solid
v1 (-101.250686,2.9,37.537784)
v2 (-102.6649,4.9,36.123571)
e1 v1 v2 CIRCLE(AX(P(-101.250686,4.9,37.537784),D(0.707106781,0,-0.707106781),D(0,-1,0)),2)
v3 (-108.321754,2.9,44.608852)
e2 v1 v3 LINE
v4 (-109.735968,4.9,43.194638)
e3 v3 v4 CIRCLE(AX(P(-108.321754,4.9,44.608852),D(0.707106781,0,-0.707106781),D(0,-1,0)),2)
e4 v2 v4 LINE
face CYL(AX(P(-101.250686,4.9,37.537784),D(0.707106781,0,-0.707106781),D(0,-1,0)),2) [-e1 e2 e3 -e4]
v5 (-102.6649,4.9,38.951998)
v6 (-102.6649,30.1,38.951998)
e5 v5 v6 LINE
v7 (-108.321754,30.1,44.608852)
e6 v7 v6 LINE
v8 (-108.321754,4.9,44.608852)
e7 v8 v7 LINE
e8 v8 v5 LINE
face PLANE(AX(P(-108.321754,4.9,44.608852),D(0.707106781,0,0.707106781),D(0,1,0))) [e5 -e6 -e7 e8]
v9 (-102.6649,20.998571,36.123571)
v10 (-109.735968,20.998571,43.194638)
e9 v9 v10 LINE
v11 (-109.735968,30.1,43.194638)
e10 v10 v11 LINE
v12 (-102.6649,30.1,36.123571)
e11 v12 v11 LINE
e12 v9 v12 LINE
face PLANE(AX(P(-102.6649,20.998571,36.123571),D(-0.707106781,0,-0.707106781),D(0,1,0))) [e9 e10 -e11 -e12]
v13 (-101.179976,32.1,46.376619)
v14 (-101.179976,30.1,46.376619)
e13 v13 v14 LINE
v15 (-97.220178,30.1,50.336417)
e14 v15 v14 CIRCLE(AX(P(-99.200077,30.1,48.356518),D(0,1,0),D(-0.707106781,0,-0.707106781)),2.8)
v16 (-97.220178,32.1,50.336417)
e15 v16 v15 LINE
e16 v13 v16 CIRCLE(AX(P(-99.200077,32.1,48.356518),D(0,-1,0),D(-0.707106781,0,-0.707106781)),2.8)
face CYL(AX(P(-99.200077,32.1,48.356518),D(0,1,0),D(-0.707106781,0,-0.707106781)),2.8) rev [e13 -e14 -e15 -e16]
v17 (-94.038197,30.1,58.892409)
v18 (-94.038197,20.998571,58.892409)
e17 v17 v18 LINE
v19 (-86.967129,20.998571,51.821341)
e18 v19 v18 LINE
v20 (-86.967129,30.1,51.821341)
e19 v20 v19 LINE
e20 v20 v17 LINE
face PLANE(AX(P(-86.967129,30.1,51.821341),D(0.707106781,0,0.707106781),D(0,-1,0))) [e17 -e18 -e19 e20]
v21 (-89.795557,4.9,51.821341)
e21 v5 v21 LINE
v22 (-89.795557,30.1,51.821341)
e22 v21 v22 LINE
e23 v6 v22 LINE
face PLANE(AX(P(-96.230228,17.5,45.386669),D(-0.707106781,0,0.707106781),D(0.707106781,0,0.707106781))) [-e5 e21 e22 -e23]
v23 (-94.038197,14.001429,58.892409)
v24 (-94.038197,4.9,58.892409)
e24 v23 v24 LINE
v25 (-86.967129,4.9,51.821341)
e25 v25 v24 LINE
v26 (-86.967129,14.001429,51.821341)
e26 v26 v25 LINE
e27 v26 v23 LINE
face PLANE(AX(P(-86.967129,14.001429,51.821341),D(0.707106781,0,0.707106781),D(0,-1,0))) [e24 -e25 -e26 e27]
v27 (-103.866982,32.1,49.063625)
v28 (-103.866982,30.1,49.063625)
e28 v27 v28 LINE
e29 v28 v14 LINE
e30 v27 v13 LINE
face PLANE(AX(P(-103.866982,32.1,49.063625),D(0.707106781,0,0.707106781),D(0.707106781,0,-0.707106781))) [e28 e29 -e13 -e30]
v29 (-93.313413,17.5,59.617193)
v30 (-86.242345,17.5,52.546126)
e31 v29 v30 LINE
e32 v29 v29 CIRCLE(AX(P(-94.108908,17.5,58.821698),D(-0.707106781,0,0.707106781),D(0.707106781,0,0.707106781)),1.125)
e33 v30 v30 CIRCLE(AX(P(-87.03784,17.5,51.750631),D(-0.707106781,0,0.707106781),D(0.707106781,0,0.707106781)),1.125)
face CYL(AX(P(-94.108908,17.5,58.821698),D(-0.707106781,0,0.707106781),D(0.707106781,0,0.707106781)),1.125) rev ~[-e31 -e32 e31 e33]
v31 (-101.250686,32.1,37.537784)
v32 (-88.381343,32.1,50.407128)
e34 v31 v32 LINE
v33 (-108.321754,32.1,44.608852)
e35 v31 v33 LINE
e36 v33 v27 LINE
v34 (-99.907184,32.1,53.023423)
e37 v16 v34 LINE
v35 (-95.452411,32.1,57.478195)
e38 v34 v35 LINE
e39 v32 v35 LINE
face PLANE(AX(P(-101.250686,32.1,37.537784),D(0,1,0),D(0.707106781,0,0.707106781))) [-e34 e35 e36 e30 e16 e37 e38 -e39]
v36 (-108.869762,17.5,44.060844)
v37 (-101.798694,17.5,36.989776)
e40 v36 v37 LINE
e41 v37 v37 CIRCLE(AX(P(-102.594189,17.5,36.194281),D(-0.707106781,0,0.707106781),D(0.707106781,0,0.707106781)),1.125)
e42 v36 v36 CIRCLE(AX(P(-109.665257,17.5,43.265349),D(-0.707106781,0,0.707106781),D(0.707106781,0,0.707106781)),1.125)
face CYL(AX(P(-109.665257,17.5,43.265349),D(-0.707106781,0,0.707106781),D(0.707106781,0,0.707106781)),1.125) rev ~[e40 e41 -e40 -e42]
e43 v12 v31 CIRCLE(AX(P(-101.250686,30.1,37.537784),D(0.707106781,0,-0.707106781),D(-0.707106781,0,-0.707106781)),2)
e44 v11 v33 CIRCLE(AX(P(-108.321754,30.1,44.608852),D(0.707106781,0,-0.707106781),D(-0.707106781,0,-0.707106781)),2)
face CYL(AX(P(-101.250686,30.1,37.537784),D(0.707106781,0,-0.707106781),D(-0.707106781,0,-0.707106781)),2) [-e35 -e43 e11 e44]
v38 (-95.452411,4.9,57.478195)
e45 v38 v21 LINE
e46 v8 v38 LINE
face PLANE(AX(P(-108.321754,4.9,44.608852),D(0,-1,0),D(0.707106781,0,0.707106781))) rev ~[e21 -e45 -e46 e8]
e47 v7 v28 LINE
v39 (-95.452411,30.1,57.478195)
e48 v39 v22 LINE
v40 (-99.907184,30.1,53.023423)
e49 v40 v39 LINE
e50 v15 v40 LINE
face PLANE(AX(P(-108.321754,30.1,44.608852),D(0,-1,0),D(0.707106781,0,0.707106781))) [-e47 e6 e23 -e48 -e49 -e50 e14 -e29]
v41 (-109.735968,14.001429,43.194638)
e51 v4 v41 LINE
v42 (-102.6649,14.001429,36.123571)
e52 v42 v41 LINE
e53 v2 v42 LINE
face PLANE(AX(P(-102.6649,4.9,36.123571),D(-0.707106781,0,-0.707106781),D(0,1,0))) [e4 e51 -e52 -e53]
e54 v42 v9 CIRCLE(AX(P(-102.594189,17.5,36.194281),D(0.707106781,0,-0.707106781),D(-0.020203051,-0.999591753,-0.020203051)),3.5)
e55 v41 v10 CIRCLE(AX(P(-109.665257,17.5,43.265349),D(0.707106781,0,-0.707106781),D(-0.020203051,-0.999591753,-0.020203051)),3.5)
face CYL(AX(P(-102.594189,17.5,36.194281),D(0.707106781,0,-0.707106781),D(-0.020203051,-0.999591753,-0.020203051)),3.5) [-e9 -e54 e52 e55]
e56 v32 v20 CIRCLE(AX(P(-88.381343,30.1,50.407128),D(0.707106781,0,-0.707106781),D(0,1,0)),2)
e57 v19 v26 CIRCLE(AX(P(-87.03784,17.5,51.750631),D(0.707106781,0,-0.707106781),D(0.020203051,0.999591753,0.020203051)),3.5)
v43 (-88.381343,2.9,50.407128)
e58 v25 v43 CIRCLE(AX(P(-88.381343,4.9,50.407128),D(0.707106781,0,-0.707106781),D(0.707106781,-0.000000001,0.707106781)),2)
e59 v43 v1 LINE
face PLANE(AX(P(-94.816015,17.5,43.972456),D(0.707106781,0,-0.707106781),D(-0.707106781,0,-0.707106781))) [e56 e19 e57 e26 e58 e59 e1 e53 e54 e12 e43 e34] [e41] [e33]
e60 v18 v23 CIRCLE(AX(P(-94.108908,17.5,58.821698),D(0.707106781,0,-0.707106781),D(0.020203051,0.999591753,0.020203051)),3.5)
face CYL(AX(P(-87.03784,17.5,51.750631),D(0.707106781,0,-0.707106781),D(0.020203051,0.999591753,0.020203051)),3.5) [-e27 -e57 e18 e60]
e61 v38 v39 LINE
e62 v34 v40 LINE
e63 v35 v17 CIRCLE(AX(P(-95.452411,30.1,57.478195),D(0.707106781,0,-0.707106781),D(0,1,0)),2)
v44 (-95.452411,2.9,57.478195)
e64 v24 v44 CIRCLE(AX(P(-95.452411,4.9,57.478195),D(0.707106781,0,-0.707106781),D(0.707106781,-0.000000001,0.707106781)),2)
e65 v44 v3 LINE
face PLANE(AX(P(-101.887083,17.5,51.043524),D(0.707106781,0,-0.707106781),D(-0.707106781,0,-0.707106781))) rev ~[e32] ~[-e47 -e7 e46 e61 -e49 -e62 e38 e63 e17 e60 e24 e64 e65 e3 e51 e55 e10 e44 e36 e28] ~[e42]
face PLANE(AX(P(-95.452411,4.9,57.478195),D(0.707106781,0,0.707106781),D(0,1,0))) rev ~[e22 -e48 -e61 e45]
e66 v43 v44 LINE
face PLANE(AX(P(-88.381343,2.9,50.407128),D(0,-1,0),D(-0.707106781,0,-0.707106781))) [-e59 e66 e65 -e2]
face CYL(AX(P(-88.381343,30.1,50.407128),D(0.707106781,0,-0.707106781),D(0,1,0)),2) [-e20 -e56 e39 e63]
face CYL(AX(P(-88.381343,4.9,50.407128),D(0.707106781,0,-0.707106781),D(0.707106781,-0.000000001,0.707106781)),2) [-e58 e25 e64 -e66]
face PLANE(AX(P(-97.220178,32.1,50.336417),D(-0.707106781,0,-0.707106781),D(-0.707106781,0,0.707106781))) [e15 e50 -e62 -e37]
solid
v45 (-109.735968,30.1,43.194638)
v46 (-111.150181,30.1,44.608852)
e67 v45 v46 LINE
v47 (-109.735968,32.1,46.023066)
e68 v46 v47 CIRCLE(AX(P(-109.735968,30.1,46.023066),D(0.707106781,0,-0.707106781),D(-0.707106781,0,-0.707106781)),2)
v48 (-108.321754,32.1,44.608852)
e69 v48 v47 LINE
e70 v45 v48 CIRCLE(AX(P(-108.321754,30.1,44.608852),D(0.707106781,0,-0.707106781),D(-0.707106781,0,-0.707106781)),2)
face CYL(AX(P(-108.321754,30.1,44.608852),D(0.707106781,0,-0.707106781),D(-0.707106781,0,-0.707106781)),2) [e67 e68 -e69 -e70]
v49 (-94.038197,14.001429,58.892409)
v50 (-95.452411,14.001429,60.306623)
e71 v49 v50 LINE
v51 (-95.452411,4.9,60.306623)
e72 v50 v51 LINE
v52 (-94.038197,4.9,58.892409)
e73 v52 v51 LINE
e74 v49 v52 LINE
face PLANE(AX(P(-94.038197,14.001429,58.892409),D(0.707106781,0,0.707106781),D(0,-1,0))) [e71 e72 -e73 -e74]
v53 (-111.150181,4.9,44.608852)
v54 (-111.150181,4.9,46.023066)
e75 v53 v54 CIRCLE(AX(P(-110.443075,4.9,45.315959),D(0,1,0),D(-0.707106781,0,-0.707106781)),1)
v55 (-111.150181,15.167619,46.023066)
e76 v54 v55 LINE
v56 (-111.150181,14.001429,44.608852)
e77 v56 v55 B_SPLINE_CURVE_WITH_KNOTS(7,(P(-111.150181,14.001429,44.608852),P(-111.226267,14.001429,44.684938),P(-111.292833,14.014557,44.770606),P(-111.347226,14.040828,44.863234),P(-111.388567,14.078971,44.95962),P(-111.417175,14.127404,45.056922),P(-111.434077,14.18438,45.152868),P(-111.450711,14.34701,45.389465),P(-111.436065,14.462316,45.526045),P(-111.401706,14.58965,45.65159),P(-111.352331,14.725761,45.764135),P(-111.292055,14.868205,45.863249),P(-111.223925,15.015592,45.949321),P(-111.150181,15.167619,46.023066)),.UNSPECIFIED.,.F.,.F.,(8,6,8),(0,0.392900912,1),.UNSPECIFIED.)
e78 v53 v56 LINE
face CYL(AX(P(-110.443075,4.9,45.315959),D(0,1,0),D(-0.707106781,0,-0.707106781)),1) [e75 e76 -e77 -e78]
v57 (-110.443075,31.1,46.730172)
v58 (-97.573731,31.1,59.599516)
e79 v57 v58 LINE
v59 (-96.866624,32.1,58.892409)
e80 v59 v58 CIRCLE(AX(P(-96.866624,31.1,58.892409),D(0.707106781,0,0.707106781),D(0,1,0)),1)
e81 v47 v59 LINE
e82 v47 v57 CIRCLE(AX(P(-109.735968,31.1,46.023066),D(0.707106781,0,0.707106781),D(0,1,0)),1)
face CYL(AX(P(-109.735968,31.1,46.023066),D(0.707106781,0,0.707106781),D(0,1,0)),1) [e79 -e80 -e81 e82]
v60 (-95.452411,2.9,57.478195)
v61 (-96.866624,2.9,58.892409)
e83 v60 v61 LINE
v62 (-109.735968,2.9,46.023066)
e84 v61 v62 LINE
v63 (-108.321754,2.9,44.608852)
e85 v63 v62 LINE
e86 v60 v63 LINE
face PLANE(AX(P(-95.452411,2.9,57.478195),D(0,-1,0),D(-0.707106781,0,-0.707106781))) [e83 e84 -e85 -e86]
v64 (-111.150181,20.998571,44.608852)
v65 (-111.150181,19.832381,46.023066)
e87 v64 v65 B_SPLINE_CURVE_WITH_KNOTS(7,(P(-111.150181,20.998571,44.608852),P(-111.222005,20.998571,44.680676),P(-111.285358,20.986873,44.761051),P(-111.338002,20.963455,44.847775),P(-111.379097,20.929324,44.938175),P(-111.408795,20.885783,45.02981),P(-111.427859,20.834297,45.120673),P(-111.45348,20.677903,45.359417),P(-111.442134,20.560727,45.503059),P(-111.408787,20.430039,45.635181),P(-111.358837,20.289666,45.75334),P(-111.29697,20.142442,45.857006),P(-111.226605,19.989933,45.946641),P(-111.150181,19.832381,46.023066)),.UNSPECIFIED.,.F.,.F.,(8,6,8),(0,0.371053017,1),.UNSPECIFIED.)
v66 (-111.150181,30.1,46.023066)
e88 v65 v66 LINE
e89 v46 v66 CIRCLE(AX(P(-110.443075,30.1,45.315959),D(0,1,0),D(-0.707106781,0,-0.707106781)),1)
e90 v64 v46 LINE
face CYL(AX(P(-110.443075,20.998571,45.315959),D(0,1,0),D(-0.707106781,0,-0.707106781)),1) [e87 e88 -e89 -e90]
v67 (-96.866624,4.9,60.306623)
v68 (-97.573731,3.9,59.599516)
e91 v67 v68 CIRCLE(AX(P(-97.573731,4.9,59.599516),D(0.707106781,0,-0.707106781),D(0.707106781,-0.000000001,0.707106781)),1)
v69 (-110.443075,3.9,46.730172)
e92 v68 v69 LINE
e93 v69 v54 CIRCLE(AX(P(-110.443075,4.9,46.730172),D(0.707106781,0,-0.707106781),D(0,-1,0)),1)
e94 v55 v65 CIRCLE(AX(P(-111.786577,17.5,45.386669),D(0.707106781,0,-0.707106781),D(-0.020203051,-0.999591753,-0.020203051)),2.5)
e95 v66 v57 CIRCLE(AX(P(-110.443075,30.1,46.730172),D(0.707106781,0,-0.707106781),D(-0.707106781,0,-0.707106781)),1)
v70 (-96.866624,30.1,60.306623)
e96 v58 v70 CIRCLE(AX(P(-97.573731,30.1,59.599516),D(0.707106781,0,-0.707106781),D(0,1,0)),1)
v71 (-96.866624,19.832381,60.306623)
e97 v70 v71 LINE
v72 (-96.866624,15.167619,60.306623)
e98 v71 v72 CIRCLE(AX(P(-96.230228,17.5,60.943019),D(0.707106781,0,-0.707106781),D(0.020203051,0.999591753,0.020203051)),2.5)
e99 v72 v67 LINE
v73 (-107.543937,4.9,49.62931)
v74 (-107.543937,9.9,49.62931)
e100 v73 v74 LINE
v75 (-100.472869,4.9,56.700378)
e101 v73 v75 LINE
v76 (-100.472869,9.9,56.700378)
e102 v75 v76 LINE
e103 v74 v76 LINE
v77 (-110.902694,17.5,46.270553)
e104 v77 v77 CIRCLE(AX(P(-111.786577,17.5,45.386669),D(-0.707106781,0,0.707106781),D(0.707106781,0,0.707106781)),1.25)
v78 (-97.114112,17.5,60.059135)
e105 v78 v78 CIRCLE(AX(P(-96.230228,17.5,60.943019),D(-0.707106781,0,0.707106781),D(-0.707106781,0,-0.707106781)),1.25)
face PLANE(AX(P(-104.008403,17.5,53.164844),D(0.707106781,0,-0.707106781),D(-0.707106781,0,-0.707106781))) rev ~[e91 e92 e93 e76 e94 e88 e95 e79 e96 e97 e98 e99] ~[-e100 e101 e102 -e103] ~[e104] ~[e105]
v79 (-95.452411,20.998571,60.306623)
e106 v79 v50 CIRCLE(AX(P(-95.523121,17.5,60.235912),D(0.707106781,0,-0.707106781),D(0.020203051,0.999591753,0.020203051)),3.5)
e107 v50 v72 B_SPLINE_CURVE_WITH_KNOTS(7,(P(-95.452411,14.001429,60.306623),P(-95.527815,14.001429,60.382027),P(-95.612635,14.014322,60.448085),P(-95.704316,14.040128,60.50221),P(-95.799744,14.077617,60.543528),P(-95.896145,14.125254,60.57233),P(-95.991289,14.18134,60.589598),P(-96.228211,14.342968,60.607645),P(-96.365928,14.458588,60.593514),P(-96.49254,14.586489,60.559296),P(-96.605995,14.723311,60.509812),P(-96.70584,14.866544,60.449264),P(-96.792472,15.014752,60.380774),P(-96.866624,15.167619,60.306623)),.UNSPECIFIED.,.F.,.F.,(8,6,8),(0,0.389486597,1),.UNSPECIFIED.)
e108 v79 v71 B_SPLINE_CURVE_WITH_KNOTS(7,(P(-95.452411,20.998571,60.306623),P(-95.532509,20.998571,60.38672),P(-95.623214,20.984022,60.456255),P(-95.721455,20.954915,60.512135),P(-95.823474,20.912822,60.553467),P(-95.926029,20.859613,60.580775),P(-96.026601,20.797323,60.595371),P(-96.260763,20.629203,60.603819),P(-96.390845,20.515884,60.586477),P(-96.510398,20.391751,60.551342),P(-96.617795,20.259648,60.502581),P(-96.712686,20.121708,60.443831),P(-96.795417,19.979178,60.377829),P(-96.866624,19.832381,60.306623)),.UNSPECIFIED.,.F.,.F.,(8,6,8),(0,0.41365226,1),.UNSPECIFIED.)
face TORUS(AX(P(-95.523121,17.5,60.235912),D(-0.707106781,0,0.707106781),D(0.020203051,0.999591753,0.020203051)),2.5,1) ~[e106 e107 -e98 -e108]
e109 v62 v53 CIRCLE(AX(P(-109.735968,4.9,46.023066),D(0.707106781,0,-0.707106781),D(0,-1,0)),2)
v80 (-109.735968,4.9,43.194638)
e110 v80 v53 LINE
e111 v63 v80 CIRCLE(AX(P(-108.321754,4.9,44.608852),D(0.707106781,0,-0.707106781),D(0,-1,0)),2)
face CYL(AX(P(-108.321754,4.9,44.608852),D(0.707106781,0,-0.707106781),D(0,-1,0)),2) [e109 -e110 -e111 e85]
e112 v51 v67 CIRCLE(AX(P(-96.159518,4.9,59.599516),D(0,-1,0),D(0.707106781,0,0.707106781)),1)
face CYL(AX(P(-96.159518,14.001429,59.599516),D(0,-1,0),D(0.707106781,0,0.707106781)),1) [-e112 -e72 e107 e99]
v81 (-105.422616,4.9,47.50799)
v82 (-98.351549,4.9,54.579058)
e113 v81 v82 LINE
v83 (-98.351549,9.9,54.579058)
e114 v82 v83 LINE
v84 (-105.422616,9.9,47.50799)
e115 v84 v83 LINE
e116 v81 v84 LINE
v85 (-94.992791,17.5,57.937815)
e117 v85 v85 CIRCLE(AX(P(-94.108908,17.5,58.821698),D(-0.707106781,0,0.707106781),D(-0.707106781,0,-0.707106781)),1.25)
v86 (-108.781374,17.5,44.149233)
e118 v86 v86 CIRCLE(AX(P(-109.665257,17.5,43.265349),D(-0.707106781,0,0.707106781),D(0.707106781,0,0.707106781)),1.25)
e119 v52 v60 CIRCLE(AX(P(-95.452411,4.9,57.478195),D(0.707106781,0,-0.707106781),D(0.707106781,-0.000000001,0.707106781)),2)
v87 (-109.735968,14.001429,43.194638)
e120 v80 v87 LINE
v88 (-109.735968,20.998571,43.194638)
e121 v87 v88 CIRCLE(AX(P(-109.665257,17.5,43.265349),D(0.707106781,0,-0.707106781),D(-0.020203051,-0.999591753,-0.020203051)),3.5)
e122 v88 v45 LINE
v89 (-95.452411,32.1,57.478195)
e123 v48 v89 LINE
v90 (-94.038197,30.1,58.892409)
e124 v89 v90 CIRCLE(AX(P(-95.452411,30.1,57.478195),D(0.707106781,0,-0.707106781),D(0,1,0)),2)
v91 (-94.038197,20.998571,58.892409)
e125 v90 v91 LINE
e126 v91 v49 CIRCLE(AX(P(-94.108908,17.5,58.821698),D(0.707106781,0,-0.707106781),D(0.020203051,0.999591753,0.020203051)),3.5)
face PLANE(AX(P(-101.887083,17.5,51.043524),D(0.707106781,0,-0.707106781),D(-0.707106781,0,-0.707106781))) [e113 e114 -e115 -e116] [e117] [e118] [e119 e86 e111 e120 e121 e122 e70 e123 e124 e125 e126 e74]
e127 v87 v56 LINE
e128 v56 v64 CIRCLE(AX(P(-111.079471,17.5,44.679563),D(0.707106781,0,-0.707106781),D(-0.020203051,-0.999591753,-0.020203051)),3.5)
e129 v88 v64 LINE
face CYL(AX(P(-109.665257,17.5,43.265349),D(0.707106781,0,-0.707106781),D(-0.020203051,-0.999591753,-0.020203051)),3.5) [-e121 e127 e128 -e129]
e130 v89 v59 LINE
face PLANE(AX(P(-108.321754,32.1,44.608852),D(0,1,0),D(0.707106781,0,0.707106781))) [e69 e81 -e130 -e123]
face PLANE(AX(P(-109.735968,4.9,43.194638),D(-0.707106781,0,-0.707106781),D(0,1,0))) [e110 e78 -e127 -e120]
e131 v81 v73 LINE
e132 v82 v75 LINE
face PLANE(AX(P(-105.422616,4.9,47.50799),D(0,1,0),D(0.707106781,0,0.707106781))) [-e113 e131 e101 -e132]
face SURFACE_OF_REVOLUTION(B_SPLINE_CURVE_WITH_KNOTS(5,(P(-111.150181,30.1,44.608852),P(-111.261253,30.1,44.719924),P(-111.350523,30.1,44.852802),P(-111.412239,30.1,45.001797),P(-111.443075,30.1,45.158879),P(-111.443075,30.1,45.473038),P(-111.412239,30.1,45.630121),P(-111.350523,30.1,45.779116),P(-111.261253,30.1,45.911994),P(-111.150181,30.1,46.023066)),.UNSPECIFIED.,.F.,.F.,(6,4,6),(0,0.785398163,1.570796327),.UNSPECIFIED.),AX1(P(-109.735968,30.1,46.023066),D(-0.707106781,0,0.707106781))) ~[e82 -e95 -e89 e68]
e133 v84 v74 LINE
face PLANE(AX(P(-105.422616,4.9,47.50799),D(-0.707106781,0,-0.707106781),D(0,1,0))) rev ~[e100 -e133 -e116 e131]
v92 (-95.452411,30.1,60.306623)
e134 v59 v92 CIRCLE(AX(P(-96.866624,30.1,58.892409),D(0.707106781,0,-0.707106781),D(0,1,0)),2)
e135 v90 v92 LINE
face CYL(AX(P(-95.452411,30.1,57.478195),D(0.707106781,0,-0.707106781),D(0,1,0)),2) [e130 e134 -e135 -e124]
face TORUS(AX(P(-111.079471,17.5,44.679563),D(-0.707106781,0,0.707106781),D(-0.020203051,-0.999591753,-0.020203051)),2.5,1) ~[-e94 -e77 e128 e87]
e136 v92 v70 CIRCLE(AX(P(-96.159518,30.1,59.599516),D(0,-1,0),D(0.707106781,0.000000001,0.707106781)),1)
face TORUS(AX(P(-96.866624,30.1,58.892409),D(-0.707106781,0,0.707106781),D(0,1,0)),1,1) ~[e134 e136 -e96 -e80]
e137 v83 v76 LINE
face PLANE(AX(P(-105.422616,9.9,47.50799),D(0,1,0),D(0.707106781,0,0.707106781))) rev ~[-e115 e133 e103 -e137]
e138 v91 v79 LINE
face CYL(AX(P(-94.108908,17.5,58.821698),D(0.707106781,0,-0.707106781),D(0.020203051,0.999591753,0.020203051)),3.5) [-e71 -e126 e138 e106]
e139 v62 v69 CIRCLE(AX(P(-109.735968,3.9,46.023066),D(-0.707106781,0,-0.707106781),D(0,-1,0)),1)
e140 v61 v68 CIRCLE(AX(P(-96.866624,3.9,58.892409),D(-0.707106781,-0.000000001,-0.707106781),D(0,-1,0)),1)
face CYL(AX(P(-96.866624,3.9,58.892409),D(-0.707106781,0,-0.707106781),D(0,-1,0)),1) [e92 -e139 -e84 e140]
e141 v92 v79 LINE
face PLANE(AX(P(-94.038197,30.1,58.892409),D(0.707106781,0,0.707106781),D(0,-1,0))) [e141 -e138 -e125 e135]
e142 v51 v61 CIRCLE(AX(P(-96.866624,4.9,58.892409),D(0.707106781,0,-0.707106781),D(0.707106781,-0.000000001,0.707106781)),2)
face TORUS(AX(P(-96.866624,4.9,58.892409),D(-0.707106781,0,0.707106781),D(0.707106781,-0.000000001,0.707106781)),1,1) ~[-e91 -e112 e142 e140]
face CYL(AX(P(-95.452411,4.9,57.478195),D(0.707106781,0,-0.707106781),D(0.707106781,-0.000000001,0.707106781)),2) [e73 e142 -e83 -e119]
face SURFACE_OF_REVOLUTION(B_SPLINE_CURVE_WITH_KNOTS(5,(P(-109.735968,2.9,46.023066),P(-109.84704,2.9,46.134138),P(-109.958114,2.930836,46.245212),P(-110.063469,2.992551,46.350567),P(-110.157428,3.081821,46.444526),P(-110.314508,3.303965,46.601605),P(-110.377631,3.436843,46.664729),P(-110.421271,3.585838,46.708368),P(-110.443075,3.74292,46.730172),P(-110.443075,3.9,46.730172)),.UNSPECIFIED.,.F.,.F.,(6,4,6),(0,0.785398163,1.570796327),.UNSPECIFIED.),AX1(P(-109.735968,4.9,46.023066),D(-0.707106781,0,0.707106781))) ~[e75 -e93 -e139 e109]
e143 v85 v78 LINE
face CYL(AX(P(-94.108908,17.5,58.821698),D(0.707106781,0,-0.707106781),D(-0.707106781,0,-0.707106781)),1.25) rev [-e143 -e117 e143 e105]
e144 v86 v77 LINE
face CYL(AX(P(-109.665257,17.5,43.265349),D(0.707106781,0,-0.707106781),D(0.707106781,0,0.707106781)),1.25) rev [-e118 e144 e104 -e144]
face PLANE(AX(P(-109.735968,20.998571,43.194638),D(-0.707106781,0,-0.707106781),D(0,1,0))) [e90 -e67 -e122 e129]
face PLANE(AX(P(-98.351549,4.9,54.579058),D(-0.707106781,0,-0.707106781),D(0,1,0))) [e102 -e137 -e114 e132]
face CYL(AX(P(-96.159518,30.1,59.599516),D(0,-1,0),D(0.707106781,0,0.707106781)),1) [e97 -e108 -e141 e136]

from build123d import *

# Parameters (mm, degrees)
BOSS_EXTRUDE1_DEPTH = 10
CUT_EXTRUDE1_REACH  = 66.268
SKETCH2_R           = 1.125
SKETCH3_W           = 18.2
SKETCH3_H           = 25.2
CUT_EXTRUDE2_DEPTH  = 8
CUT_EXTRUDE3_REACH  = 133.093
SKETCH5_R           = 1.25
SKETCH5_W           = 10
SKETCH5_H           = 5
BOSS_EXTRUDE2_DEPTH = 3
FILLET1_R           = 1


with BuildPart() as part:
    # Sketch1 → Boss-Extrude1 (new body)
    with BuildSketch(Plane(origin=(-69.394235316, 0, 69.394235316), x_dir=(0.7071067811865521, 0, 0.707106781186543), z_dir=(-0.707106781186543, 0, 0.7071067811865521))):
        with BuildLine():
            Line((-47.051825189, 20.998571137), (-47.051825189, 30.1))
            ThreePointArc((-47.051825189, 30.1), (-46.466038752, 31.514213562), (-45.051825189, 32.1))
            Line((-45.051825189, 32.1), (-26.851825189, 32.1))
            ThreePointArc((-26.851825189, 32.1), (-25.437611627, 31.514213562), (-24.851825189, 30.1))
            Line((-24.851825189, 30.1), (-24.851825189, 20.998571137))
            ThreePointArc((-24.851825189, 20.998571137), (-21.451825189, 17.5), (-24.851825189, 14.001428863))
            Line((-24.851825189, 14.001428863), (-24.851825189, 4.9))
            ThreePointArc((-24.851825189, 4.9), (-25.437611627, 3.485786438), (-26.851825189, 2.9))
            Line((-26.851825189, 2.9), (-45.051825189, 2.9))
            ThreePointArc((-45.051825189, 2.9), (-46.466038752, 3.485786438), (-47.051825189, 4.9))
            Line((-47.051825189, 4.9), (-47.051825189, 14.001428863))
            ThreePointArc((-47.051825189, 14.001428863), (-50.451825189, 17.5), (-47.051825189, 20.998571137))
        make_face()
    extrude(amount=BOSS_EXTRUDE1_DEPTH)

    # Sketch2 → Cut-Extrude1 (cut, up to next)
    with BuildSketch(Plane(origin=(-76.465303128, 0, 76.465303128), x_dir=(0.707106781186552, 0, 0.707106781186543), z_dir=(-0.707106781186543, 0, 0.707106781186552)), mode=Mode.PRIVATE) as cut_extrude1_sk1:
        with Locations((-46.951825189, 17.5)):
            Circle(SKETCH2_R)
    cut_extrude1_tool1 = extrude(cut_extrude1_sk1.sketch, amount=-CUT_EXTRUDE1_REACH, mode=Mode.PRIVATE) & part.part
    # Sketch2 → Cut-Extrude1 (cut, up to next)
    with BuildSketch(Plane(origin=(-76.465303128, 0, 76.465303128), x_dir=(0.707106781186552, 0, 0.707106781186543), z_dir=(-0.707106781186543, 0, 0.707106781186552)), mode=Mode.PRIVATE) as cut_extrude1_sk2:
        with Locations((-24.951825189, 17.5)):
            Circle(SKETCH2_R)
    cut_extrude1_tool2 = extrude(cut_extrude1_sk2.sketch, amount=-CUT_EXTRUDE1_REACH, mode=Mode.PRIVATE) & part.part
    add(cut_extrude1_tool1.solids().sort_by_distance((-109.665257, 17.5, 43.265349))[0], mode=Mode.SUBTRACT)
    add(cut_extrude1_tool2.solids().sort_by_distance((-94.108908, 17.5, 58.821698))[0], mode=Mode.SUBTRACT)

    # Sketch3 → Cut-Extrude2 (cut)
    with BuildSketch(Plane(origin=(-76.465303128, 0, 76.465303128), x_dir=(0.707106781186552, 0, 0.707106781186543), z_dir=(-0.707106781186543, 0, 0.707106781186552))):
        with Locations((-35.951825189, 17.5)):
            Rectangle(SKETCH3_W, SKETCH3_H)
    extrude(amount=-CUT_EXTRUDE2_DEPTH, mode=Mode.SUBTRACT)

    # Sketch4 → Cut-Extrude3 (cut, up to next)
    with BuildSketch(Plane(origin=(0, 32.1, 0), x_dir=(1, 0, 0), z_dir=(0, 1, 0)), mode=Mode.PRIVATE) as cut_extrude3_sk1:
        with BuildLine():
            Line((-103.866981503, -49.063624754), (-101.179975734, -46.376618985))
            ThreePointArc((-101.179975734, -46.376618985), (-97.22017776, -46.376618985), (-97.22017776, -50.33641696))
            Line((-97.22017776, -50.33641696), (-99.907183528, -53.023422728))
            Line((-99.907183528, -53.023422728), (-103.866981503, -49.063624754))
        make_face()
    cut_extrude3_tool1 = extrude(cut_extrude3_sk1.sketch, amount=-CUT_EXTRUDE3_REACH, mode=Mode.PRIVATE) & part.part
    add(cut_extrude3_tool1.solids().sort_by_distance((-99.743058, 32.1, 48.899499))[0], mode=Mode.SUBTRACT)


with BuildPart() as body_2:
    # Sketch5 → Boss-Extrude2 (new body)
    with BuildSketch(Plane(origin=(-76.465303128, 0, 76.465303128), x_dir=(0.707106781186552, 0, 0.707106781186543), z_dir=(-0.707106781186543, 0, 0.707106781186552))):
        with BuildLine():
            Line((-47.051825189, 20.998571137), (-47.051825189, 30.1))
            ThreePointArc((-47.051825189, 30.1), (-46.466038752, 31.514213562), (-45.051825189, 32.1))
            Line((-45.051825189, 32.1), (-26.851825189, 32.1))
            ThreePointArc((-26.851825189, 32.1), (-25.437611627, 31.514213562), (-24.851825189, 30.1))
            Line((-24.851825189, 30.1), (-24.851825189, 20.998571137))
            ThreePointArc((-24.851825189, 20.998571137), (-21.451825189, 17.5), (-24.851825189, 14.001428863))
            Line((-24.851825189, 14.001428863), (-24.851825189, 4.9))
            ThreePointArc((-24.851825189, 4.9), (-25.437611627, 3.485786438), (-26.851825189, 2.9))
            Line((-26.851825189, 2.9), (-45.051825189, 2.9))
            ThreePointArc((-45.051825189, 2.9), (-46.466038752, 3.485786438), (-47.051825189, 4.9))
            Line((-47.051825189, 4.9), (-47.051825189, 14.001428863))
            ThreePointArc((-47.051825189, 14.001428863), (-50.451825189, 17.5), (-47.051825189, 20.998571137))
        make_face()
        with Locations((-46.951825189, 17.5)):
            Circle(SKETCH5_R, mode=Mode.SUBTRACT)
        with Locations(Location((-24.951825189, 17.5, 0), (0, 0, 180))):
            Circle(SKETCH5_R, mode=Mode.SUBTRACT)
        with Locations((-35.951825189, 7.4)):
            Rectangle(SKETCH5_W, SKETCH5_H, mode=Mode.SUBTRACT)
    extrude(amount=BOSS_EXTRUDE2_DEPTH)

    # Fillet1
    fillet1_edges = [body_2.edges().sort_by_distance(p)[0] for p in [
        (-111.443074568, 3.485786438, 45.730172376),
        (-104.008402859, 2.9, 53.164844084),
        (-96.57373115, 3.485786438, 60.599515793),
        (-96.159517588, 9.450714432, 61.013729356),
        (-93.755354532, 17.5, 63.417892412),
        (-96.159517588, 25.549285568, 61.013729356),
        (-96.57373115, 31.514213562, 60.599515793),
        (-104.008402859, 32.1, 53.164844084),
        (-111.443074568, 31.514213562, 45.730172376),
        (-111.85728813, 25.549285568, 45.315958813),
        (-114.261451186, 17.5, 42.911795757),
        (-111.85728813, 9.450714432, 45.315958813),
    ]]
    fillet(fillet1_edges, radius=FILLET1_R)


solid = Compound([part.part, body_2.part])
